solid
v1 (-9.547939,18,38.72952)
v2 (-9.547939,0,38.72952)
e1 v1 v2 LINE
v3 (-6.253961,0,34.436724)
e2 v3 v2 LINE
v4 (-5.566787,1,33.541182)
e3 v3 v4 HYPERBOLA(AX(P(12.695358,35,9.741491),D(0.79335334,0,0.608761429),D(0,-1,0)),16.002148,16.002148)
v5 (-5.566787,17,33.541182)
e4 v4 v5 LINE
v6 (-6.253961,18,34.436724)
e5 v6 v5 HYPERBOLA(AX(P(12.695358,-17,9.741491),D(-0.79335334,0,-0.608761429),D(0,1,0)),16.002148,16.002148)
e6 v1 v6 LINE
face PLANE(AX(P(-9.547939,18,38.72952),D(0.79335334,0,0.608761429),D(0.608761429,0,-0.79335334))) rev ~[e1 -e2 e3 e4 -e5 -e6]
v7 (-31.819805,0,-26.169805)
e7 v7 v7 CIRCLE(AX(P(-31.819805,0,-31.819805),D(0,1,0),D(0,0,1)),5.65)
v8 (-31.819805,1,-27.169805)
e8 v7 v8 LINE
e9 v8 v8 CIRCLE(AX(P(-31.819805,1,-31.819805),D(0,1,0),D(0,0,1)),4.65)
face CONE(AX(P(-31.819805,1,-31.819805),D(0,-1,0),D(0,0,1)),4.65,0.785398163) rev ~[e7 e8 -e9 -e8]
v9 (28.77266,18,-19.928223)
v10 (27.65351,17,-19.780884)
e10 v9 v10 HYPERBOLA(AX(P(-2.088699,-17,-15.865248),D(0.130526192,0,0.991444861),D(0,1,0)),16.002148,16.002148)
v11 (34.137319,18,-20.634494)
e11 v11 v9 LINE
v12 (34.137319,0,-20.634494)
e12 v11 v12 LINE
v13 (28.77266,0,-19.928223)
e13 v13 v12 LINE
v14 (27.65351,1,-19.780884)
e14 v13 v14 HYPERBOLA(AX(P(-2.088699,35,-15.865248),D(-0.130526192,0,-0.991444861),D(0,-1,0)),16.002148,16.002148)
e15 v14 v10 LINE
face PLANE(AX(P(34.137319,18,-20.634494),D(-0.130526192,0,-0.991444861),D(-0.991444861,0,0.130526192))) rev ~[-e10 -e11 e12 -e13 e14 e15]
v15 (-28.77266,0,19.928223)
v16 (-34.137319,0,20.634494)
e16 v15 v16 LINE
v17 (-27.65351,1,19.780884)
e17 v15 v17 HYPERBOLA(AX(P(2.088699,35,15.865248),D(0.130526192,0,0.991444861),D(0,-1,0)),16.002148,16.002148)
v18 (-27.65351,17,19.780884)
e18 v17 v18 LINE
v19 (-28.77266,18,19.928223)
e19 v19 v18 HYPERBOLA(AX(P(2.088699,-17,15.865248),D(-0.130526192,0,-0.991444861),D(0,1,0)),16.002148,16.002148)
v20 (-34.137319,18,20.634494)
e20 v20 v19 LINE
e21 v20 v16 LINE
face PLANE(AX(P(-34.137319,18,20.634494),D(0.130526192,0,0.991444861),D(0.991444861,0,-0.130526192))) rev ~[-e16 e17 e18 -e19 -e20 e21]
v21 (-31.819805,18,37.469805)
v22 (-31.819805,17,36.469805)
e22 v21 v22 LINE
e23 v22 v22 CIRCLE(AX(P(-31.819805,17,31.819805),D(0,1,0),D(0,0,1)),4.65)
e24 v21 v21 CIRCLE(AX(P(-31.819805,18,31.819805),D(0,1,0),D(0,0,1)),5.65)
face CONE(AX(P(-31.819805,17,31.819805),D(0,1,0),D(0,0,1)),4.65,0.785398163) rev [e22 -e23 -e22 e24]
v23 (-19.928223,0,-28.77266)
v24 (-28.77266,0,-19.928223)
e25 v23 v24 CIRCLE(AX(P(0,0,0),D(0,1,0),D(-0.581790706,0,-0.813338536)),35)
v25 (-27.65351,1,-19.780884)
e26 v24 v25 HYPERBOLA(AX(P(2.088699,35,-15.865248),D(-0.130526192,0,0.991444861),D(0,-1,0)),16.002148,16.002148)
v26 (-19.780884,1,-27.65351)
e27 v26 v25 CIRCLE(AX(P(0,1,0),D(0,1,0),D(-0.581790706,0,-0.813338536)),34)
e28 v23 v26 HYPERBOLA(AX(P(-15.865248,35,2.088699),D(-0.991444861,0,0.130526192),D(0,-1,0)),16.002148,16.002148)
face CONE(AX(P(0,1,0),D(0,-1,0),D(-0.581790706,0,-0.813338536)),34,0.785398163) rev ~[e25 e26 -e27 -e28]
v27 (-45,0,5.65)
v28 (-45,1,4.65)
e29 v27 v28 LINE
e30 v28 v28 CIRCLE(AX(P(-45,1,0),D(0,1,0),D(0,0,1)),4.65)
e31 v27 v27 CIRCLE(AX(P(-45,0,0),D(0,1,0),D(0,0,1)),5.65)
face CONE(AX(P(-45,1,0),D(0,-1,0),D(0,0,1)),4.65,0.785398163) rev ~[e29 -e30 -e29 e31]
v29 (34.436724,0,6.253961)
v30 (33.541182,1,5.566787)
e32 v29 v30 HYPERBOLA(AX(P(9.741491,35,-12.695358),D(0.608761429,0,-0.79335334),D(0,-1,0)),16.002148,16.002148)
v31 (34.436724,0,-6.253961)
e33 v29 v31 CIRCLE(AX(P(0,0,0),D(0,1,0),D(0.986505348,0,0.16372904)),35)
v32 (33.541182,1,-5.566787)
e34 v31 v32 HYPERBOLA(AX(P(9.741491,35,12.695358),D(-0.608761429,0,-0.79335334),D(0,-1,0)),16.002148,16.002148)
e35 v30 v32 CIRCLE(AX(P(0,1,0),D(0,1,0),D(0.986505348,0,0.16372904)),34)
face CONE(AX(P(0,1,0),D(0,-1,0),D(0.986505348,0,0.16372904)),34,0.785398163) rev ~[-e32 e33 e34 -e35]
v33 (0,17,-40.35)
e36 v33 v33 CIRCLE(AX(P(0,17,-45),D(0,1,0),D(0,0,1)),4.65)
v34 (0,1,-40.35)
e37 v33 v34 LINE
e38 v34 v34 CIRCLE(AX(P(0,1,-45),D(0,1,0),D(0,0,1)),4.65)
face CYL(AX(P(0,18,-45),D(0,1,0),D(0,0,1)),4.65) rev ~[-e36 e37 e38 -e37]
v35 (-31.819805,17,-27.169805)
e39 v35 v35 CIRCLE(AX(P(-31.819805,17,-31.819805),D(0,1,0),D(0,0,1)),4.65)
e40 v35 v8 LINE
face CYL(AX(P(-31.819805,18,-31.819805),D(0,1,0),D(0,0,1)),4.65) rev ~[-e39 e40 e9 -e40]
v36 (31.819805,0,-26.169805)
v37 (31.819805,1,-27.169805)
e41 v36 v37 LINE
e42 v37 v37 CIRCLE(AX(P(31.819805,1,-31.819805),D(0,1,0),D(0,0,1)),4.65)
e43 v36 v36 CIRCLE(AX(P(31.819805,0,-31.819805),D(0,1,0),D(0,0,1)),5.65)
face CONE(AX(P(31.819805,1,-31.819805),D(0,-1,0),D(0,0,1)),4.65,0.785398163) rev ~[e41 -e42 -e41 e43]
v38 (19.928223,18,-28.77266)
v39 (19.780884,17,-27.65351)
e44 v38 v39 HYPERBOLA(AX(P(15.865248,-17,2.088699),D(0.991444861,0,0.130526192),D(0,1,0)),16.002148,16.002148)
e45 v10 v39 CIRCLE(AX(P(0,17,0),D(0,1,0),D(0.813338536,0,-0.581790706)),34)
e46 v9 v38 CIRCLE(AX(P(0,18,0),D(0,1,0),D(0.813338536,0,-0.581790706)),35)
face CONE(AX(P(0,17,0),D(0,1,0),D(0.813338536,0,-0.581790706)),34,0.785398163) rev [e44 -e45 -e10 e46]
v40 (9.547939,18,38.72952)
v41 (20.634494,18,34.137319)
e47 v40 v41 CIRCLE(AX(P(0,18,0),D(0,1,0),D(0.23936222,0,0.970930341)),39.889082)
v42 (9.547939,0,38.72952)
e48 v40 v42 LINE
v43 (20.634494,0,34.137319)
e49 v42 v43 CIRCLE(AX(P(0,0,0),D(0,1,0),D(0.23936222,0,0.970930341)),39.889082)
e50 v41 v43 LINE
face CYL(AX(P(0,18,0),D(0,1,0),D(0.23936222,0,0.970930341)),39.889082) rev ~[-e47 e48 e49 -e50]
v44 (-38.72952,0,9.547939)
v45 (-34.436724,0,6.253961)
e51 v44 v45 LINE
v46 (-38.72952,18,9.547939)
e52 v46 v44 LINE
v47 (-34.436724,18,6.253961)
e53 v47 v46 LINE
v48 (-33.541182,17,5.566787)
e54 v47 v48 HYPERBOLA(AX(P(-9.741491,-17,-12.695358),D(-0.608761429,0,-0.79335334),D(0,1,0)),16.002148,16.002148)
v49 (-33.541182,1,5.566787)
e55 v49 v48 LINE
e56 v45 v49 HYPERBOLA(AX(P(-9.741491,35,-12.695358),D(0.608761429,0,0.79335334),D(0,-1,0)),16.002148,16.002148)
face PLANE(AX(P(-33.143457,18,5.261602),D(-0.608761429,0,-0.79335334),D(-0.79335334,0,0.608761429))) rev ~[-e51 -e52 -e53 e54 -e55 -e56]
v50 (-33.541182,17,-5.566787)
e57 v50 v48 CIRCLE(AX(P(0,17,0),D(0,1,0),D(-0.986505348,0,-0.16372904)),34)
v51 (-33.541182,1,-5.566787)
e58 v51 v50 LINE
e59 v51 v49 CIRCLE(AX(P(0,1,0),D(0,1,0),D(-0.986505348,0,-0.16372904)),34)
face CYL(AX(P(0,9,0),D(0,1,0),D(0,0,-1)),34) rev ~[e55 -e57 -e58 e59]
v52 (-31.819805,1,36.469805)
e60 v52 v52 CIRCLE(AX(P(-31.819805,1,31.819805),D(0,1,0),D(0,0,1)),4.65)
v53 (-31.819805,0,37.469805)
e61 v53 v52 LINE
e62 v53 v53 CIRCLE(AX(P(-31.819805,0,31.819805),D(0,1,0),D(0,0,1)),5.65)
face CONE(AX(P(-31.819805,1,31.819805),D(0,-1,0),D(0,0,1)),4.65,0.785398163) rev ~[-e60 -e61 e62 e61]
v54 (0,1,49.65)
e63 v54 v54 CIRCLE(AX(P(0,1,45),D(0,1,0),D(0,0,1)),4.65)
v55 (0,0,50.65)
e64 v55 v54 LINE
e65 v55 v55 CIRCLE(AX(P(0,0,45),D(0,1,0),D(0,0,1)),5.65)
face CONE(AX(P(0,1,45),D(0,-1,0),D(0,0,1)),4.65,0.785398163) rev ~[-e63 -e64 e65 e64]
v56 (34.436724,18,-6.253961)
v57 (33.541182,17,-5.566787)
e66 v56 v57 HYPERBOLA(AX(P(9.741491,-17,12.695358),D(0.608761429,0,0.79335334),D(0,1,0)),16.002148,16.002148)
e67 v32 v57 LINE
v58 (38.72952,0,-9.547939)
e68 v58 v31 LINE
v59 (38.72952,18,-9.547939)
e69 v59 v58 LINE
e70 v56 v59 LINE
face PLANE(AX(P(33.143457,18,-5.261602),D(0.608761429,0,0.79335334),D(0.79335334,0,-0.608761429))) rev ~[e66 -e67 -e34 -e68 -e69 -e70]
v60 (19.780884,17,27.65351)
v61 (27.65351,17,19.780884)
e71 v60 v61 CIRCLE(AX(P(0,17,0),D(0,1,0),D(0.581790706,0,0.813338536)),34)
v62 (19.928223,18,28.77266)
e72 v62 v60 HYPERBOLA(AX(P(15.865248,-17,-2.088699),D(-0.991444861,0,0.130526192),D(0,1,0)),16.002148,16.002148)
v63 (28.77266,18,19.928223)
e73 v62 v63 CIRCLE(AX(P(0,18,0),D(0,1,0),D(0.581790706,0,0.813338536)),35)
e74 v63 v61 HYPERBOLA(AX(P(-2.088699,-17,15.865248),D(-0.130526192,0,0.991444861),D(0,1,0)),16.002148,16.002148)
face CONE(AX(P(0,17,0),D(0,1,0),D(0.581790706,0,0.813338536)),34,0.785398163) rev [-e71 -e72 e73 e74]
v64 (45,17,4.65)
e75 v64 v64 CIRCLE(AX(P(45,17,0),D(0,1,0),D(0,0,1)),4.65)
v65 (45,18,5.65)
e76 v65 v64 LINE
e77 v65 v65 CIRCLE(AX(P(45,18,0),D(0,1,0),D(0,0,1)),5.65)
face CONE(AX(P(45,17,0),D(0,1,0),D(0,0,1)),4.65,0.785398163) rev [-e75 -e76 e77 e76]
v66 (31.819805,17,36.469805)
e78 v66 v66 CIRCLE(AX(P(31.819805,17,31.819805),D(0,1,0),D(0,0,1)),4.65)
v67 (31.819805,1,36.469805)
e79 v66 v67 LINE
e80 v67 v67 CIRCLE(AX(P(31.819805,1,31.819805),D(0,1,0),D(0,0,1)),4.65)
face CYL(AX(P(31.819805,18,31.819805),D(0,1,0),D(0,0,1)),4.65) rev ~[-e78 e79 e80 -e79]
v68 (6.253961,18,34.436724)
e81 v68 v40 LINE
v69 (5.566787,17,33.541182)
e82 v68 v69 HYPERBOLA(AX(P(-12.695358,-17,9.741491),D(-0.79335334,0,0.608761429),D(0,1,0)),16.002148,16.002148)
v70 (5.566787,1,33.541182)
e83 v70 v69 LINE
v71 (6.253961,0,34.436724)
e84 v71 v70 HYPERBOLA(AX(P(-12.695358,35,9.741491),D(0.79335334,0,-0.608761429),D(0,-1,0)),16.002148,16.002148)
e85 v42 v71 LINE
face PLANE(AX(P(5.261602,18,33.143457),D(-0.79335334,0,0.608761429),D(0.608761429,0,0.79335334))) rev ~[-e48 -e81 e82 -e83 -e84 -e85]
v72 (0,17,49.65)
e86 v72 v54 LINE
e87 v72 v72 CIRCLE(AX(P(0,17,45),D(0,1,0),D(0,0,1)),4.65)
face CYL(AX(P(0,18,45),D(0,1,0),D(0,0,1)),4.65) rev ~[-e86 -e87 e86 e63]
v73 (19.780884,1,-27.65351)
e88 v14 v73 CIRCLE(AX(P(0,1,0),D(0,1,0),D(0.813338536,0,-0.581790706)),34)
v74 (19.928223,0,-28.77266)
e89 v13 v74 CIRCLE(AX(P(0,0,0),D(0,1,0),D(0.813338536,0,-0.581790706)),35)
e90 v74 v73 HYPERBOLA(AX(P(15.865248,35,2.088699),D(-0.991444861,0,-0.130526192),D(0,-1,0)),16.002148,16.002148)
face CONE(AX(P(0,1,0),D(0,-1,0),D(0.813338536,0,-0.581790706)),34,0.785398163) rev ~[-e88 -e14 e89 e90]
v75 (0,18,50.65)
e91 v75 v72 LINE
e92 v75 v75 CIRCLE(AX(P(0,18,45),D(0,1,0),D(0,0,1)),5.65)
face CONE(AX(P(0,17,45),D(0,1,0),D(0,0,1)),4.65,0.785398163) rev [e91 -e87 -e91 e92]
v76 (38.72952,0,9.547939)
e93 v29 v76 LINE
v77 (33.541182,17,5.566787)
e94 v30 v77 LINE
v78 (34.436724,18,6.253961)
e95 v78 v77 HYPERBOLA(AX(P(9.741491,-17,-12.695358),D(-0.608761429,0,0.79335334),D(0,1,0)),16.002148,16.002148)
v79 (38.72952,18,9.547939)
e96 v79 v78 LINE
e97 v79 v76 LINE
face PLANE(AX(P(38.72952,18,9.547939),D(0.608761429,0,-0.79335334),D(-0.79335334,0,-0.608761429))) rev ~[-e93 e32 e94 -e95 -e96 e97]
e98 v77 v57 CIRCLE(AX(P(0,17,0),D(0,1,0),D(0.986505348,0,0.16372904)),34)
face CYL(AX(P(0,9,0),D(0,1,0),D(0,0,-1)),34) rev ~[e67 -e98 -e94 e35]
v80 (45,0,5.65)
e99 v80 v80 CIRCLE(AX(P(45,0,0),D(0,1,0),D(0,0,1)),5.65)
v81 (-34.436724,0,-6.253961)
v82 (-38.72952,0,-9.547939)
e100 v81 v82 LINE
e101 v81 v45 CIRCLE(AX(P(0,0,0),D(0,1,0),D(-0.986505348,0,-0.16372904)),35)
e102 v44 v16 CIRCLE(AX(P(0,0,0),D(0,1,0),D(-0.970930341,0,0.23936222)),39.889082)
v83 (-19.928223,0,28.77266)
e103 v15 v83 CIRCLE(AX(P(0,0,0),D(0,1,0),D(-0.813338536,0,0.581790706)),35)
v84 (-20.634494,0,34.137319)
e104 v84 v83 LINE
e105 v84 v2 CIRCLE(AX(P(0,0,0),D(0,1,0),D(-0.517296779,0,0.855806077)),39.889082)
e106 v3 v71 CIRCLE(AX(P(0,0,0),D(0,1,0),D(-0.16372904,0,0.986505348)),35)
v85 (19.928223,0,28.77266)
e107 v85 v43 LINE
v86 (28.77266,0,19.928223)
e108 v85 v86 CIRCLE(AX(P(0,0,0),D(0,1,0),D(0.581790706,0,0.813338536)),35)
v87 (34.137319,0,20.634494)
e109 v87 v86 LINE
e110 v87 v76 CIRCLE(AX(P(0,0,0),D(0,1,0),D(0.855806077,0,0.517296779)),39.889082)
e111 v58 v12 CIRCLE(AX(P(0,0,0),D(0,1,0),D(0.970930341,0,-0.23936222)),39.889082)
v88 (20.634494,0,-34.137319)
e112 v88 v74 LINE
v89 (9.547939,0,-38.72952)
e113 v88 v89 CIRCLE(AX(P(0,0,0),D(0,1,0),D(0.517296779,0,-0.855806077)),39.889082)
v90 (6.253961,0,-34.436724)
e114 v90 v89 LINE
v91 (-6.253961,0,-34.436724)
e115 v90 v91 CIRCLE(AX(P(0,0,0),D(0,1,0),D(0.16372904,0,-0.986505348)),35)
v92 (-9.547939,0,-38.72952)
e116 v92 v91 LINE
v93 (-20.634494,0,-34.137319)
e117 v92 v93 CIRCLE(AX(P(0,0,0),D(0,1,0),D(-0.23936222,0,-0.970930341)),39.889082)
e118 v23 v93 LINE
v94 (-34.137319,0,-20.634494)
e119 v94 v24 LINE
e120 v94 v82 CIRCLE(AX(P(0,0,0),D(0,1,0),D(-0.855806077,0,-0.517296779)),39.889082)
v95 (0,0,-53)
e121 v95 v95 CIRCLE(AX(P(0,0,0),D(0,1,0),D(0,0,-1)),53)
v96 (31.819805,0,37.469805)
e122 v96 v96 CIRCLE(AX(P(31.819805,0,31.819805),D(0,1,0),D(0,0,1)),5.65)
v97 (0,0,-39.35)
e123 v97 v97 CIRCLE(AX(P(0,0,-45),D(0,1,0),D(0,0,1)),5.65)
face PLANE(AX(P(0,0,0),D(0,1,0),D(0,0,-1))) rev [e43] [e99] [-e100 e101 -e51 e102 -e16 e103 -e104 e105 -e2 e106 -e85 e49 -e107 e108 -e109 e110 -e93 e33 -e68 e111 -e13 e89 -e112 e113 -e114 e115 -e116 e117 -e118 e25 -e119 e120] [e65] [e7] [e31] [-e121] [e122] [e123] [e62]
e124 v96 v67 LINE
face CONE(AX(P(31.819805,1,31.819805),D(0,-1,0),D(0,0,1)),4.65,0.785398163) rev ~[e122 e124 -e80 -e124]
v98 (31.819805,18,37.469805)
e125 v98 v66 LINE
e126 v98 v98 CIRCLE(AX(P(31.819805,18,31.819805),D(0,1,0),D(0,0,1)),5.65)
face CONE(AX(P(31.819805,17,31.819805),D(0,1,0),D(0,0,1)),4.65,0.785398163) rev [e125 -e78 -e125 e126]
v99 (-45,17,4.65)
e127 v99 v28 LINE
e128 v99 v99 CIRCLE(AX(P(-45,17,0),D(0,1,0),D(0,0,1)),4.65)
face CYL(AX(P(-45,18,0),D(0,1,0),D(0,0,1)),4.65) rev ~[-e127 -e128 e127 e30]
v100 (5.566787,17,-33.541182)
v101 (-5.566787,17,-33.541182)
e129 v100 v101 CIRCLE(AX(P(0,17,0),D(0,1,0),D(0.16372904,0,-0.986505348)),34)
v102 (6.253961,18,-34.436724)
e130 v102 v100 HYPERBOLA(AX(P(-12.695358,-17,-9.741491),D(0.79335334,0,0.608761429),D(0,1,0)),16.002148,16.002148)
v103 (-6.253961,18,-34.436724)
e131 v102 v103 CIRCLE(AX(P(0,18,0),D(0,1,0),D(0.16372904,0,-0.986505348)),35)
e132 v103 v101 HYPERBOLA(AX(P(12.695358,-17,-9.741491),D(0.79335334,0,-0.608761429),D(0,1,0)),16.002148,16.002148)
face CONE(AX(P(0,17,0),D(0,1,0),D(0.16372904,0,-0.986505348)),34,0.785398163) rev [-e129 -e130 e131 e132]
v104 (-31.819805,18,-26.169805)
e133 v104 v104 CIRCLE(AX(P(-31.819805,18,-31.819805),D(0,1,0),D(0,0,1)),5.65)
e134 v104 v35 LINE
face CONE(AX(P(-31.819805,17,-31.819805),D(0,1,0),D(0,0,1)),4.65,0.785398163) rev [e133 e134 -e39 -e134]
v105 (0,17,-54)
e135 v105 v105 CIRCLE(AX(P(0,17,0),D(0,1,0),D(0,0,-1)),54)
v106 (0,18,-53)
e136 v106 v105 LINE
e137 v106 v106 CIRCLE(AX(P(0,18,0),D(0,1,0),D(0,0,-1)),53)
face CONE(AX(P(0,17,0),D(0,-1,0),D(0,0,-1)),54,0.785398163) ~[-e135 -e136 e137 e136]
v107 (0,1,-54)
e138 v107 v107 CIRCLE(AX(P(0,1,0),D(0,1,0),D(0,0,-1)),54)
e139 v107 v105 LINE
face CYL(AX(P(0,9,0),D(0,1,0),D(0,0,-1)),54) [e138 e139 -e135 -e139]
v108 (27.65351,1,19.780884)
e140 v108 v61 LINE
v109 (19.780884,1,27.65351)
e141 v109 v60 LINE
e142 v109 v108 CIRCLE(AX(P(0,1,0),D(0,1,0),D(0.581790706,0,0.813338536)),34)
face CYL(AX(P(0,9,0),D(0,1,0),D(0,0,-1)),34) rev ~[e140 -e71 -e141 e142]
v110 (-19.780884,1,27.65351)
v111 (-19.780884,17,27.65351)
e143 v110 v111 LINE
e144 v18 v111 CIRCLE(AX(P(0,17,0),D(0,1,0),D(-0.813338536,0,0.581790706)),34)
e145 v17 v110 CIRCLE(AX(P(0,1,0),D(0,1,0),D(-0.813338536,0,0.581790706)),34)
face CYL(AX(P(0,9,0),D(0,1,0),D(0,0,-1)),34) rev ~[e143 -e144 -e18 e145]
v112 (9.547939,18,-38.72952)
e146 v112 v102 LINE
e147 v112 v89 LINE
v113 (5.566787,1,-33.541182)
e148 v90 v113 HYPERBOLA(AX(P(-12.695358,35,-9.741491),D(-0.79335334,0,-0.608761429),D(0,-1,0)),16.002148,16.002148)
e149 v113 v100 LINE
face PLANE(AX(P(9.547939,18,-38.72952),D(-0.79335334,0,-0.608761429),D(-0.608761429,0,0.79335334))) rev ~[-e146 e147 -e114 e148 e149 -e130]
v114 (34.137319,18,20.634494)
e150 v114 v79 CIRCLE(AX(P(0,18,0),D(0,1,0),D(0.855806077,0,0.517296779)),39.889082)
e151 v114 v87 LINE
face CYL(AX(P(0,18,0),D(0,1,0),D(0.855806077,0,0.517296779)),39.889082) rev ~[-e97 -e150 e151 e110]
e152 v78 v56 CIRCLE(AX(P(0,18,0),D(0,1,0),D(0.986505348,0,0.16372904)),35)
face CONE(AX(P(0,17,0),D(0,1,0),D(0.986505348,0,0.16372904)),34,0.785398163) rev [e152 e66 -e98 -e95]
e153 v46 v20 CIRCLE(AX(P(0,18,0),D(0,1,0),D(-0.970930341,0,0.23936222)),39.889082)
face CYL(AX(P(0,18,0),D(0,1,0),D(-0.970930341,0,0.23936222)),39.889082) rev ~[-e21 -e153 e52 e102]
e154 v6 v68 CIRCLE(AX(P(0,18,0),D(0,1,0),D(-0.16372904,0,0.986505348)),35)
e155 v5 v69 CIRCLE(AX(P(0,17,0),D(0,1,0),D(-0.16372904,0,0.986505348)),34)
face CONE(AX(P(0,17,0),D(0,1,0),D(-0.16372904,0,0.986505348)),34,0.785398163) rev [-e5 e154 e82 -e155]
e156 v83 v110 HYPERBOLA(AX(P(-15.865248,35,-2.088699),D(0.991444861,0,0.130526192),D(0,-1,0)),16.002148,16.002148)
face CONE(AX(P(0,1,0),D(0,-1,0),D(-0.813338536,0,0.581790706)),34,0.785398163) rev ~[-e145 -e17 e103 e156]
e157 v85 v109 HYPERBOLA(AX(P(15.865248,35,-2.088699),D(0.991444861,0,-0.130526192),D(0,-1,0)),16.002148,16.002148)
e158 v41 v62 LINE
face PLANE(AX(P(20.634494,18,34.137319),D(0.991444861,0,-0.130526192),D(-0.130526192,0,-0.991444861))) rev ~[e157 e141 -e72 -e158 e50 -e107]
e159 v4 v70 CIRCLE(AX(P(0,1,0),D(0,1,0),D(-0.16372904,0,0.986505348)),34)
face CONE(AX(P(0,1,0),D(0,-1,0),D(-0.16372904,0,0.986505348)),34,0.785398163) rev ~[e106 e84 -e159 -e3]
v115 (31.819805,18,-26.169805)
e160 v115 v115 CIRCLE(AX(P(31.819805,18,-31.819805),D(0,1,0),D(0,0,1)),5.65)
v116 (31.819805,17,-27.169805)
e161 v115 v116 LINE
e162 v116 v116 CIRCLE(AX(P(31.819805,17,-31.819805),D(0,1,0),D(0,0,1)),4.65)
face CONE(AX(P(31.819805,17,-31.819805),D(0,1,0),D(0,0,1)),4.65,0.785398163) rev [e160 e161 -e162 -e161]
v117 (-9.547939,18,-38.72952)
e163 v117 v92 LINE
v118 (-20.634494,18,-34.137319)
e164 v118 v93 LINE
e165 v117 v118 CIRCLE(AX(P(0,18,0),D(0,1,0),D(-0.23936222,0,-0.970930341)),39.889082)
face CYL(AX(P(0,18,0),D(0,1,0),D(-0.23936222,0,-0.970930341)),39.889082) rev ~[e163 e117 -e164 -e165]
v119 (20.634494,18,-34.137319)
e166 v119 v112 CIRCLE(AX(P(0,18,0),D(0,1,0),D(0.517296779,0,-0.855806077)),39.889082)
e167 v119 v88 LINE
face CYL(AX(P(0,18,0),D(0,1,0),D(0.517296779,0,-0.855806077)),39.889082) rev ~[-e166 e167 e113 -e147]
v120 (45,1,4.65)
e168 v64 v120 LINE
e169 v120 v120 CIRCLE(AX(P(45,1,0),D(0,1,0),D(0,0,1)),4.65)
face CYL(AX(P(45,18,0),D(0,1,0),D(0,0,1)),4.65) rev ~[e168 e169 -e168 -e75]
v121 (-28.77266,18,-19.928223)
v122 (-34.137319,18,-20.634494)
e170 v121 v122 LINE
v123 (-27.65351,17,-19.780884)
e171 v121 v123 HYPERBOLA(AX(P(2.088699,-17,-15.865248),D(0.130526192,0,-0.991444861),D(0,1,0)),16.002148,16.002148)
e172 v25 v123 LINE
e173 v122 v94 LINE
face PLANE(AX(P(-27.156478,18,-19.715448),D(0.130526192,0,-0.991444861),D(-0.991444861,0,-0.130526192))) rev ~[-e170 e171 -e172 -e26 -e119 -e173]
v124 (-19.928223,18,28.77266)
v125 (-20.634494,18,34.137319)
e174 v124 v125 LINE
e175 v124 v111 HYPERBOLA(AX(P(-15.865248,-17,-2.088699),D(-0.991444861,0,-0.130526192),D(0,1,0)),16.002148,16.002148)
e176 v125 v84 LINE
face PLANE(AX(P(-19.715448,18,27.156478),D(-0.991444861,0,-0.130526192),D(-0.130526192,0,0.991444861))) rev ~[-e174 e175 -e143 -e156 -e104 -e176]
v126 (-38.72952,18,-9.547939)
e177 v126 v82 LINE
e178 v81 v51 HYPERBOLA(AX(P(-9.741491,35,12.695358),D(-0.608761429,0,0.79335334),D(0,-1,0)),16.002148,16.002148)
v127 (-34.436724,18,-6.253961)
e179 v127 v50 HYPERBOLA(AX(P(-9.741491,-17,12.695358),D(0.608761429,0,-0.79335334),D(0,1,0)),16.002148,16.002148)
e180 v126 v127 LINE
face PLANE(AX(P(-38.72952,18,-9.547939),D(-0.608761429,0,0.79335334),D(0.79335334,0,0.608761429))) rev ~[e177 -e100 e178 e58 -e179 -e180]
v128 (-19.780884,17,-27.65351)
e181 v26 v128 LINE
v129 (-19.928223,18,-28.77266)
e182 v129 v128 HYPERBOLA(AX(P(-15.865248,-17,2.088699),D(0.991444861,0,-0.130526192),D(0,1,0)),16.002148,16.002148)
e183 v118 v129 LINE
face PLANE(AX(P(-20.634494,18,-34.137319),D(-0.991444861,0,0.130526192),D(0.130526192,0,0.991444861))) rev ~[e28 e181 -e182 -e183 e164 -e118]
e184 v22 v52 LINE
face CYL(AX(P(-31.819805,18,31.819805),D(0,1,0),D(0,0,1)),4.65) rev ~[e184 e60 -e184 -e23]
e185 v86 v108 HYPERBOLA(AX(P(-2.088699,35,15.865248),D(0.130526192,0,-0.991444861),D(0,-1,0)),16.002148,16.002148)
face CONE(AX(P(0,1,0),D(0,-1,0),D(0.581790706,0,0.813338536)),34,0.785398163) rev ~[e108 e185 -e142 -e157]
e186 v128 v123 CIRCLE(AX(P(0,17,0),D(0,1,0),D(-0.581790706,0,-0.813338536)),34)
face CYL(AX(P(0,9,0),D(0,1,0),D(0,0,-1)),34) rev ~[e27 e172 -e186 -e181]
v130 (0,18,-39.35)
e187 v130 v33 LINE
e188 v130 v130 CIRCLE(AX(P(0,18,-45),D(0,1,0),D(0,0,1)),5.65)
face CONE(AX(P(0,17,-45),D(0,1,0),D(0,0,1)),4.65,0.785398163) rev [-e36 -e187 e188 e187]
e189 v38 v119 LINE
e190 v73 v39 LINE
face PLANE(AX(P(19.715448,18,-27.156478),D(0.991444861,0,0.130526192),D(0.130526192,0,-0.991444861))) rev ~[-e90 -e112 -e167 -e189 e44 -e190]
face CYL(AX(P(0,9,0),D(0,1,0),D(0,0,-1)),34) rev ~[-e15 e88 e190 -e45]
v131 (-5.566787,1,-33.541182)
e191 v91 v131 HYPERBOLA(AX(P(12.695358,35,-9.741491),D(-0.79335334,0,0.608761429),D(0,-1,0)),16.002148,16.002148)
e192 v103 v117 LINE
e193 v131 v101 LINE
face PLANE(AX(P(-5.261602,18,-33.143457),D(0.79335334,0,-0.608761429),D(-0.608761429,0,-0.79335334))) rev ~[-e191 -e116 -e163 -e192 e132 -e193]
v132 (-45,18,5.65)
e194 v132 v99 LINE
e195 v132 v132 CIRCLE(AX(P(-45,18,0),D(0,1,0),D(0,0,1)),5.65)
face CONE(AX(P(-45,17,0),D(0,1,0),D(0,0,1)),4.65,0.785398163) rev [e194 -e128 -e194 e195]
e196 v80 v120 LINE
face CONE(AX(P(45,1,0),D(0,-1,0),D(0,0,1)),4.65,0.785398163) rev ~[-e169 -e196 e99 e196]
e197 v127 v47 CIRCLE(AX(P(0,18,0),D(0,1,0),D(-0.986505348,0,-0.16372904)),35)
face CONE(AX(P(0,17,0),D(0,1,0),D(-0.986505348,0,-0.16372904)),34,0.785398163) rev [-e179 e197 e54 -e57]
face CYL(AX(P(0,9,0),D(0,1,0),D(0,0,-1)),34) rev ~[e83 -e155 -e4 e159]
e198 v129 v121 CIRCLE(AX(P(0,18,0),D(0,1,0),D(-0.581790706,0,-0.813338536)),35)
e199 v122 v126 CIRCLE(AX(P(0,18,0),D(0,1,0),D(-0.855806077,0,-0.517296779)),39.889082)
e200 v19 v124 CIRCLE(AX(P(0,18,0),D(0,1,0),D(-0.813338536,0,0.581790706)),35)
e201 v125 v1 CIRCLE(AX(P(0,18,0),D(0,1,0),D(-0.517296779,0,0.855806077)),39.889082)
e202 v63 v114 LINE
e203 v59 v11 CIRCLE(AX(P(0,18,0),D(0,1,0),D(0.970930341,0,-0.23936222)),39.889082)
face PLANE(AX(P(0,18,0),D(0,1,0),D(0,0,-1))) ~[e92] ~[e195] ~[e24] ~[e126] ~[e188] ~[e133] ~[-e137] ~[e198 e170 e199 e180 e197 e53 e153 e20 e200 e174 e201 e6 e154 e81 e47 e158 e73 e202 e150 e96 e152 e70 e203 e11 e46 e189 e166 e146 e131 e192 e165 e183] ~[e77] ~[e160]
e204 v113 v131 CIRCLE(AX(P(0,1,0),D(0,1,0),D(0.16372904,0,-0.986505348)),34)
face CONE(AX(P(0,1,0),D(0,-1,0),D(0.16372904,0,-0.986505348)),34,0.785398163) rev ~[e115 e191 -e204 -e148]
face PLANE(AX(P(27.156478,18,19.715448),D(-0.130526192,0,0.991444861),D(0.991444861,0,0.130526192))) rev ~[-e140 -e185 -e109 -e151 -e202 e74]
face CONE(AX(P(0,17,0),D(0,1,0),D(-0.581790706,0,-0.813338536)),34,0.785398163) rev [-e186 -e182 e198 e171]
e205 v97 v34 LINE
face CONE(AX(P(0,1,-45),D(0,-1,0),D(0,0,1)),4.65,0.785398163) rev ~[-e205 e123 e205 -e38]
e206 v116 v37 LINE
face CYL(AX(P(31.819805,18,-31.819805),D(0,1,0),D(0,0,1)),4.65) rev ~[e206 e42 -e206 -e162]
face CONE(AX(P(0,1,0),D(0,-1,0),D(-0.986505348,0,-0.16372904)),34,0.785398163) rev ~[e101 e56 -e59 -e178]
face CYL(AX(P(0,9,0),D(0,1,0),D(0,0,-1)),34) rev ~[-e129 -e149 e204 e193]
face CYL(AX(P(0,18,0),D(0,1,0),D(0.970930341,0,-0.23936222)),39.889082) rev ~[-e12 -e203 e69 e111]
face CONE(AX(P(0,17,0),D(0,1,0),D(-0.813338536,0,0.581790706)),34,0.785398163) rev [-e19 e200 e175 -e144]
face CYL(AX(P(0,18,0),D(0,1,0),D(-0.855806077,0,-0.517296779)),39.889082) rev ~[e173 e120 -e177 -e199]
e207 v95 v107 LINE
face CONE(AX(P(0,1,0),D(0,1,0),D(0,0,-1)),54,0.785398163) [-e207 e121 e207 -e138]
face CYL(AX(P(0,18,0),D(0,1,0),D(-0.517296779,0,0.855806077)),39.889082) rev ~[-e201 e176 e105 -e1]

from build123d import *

# Parameters (mm, degrees)
ESBO_O1_W             = 20
ESBO_O1_H             = 18
ESBO_O2_R             = 4.65
CORTE_EXTRUS_O1_DEPTH = 79.460180984
CHANFRO2_SIZE         = 1
CORTE_EXTRUS_O2_DEPTH = 79.460180984
CHANFRO3_SIZE         = 1
CHANFRO4_SIZE         = 1


with BuildPart() as part:
    # Esboço1 → Revolução1 (revolve)
    with BuildSketch(Plane.XY, mode=Mode.PRIVATE) as revolu_o1_sk:
        with Locations((44, 9)):
            Rectangle(ESBO_O1_W, ESBO_O1_H)
    revolve(revolu_o1_sk.sketch.rotate(Axis((0, -47.005255255, 0), (0, 1, 0)), 90), axis=Axis((0, -47.005255255, 0), (0, 1, 0)))

    # Esboço2 → Corte-extrusão1 (cut, through all)
    with BuildSketch(Plane(origin=(0, 18, 0), x_dir=(1, 0, 0), z_dir=(0, 1, 0))):
        with Locations(Location((-45, 0, 0), (0, 0, 270))):
            Circle(ESBO_O2_R)
        with Locations(Location((-31.819805153, 31.819805153, 0), (0, 0, 270))):
            Circle(ESBO_O2_R)
        with Locations(Location((0, 45, 0), (0, 0, 270))):
            Circle(ESBO_O2_R)
        with Locations(Location((31.819805153, 31.819805153, 0), (0, 0, 270))):
            Circle(ESBO_O2_R)
        with Locations(Location((45, 0, 0), (0, 0, 270))):
            Circle(ESBO_O2_R)
        with Locations(Location((31.819805153, -31.819805153, 0), (0, 0, 270))):
            Circle(ESBO_O2_R)
        with Locations(Location((0, -45, 0), (0, 0, 270))):
            Circle(ESBO_O2_R)
        with Locations(Location((-31.819805153, -31.819805153, 0), (0, 0, 270))):
            Circle(ESBO_O2_R)
    extrude(amount=-CORTE_EXTRUS_O1_DEPTH, mode=Mode.SUBTRACT)

    # Chanfro2
    chanfro2_edges = [part.edges().sort_by_distance(p)[0] for p in [
        (-45, 0, -4.65),
        (-45, 18, -4.65),
        (-31.819805153, 0, -36.469805153),
        (-31.819805153, 18, -36.469805153),
        (0, 0, -49.65),
        (0, 18, -49.65),
        (31.819805153, 0, -36.469805153),
        (31.819805153, 18, -36.469805153),
        (45, 0, -4.65),
        (45, 18, -4.65),
        (31.819805153, 0, 27.169805153),
        (31.819805153, 18, 27.169805153),
        (0, 0, 40.35),
        (0, 18, 40.35),
        (0, 0, 54),
        (-31.819805153, 0, 27.169805153),
        (-31.819805153, 18, 27.169805153),
        (0, 18, 54),
    ]]
    chamfer(chanfro2_edges, length=CHANFRO2_SIZE)

    # Esboço3 → Corte-extrusão2 (cut, through all)
    with BuildSketch(Plane(origin=(0, 18, 0), x_dir=(1, 0, 0), z_dir=(0, 1, 0))):
        with BuildLine():
            Line((9.547939213, 38.72951992), (5.261602172, 33.143456731))
            Line((5.261602172, 33.143456731), (19.715448431, 27.156477582))
            Line((19.715448431, 27.156477582), (20.634493603, 34.137318732))
            ThreePointArc((20.634493603, 34.137318732), (15.264890783, 36.852706357), (9.547939213, 38.72951992))
        make_face()
        with BuildLine():
            Line((27.156477582, 19.715448431), (33.143456731, 5.261602172))
            Line((33.143456731, 5.261602172), (38.72951992, 9.547939213))
            ThreePointArc((38.72951992, 9.547939213), (36.852706357, 15.264890783), (34.137318732, 20.634493603))
            Line((34.137318732, 20.634493603), (27.156477582, 19.715448431))
        make_face()
        with BuildLine():
            Line((33.143456731, -5.261602172), (27.156477582, -19.715448431))
            Line((27.156477582, -19.715448431), (34.137318732, -20.634493603))
            ThreePointArc((34.137318732, -20.634493603), (36.852706357, -15.264890783), (38.72951992, -9.547939213))
            Line((38.72951992, -9.547939213), (33.143456731, -5.261602172))
        make_face()
        with BuildLine():
            Line((19.715448431, -27.156477582), (5.261602172, -33.143456731))
            Line((5.261602172, -33.143456731), (9.547939213, -38.72951992))
            ThreePointArc((9.547939213, -38.72951992), (15.264890783, -36.852706357), (20.634493603, -34.137318732))
            Line((20.634493603, -34.137318732), (19.715448431, -27.156477582))
        make_face()
        with BuildLine():
            Line((-5.261602172, -33.143456731), (-19.715448431, -27.156477582))
            Line((-19.715448431, -27.156477582), (-20.634493603, -34.137318732))
            ThreePointArc((-20.634493603, -34.137318732), (-15.264890783, -36.852706357), (-9.547939213, -38.72951992))
            Line((-9.547939213, -38.72951992), (-5.261602172, -33.143456731))
        make_face()
        with BuildLine():
            Line((-27.156477582, -19.715448431), (-33.143456731, -5.261602172))
            Line((-33.143456731, -5.261602172), (-38.72951992, -9.547939213))
            ThreePointArc((-38.72951992, -9.547939213), (-36.852706357, -15.264890783), (-34.137318732, -20.634493603))
            Line((-34.137318732, -20.634493603), (-27.156477582, -19.715448431))
        make_face()
        with BuildLine():
            Line((-33.143456731, 5.261602172), (-27.156477582, 19.715448431))
            Line((-27.156477582, 19.715448431), (-34.137318732, 20.634493603))
            ThreePointArc((-34.137318732, 20.634493603), (-36.852706357, 15.264890783), (-38.72951992, 9.547939213))
            Line((-38.72951992, 9.547939213), (-33.143456731, 5.261602172))
        make_face()
        with BuildLine():
            Line((-19.715448431, 27.156477582), (-5.261602172, 33.143456731))
            Line((-5.261602172, 33.143456731), (-9.547939213, 38.72951992))
            ThreePointArc((-9.547939213, 38.72951992), (-15.264890783, 36.852706357), (-20.634493603, 34.137318732))
            Line((-20.634493603, 34.137318732), (-19.715448431, 27.156477582))
        make_face()
    extrude(amount=-CORTE_EXTRUS_O2_DEPTH, mode=Mode.SUBTRACT)

    # Chanfro3
    chanfro3_edges = [part.edges().sort_by_distance(p)[0] for p in [
        (0, 0, -34),
        (0, 18, -34),
        (24.04163056, 0, -24.04163056),
        (24.04163056, 18, -24.04163056),
        (34, 18, 0),
        (24.04163056, 18, 24.04163056),
        (0, 18, 34),
        (-24.04163056, 18, 24.04163056),
        (-34, 0, 0),
        (-34, 18, 0),
        (-24.04163056, 0, -24.04163056),
        (-24.04163056, 18, -24.04163056),
    ]]
    chamfer(chanfro3_edges, length=CHANFRO3_SIZE)

    # Chanfro4
    chanfro4_edges = [part.edges().sort_by_distance(p)[0] for p in [
        (34, 0, 0),
        (24.04163056, 0, 24.04163056),
        (0, 0, 34),
        (-24.04163056, 0, 24.04163056),
    ]]
    chamfer(chanfro4_edges, length=CHANFRO4_SIZE)


solid = part.part
